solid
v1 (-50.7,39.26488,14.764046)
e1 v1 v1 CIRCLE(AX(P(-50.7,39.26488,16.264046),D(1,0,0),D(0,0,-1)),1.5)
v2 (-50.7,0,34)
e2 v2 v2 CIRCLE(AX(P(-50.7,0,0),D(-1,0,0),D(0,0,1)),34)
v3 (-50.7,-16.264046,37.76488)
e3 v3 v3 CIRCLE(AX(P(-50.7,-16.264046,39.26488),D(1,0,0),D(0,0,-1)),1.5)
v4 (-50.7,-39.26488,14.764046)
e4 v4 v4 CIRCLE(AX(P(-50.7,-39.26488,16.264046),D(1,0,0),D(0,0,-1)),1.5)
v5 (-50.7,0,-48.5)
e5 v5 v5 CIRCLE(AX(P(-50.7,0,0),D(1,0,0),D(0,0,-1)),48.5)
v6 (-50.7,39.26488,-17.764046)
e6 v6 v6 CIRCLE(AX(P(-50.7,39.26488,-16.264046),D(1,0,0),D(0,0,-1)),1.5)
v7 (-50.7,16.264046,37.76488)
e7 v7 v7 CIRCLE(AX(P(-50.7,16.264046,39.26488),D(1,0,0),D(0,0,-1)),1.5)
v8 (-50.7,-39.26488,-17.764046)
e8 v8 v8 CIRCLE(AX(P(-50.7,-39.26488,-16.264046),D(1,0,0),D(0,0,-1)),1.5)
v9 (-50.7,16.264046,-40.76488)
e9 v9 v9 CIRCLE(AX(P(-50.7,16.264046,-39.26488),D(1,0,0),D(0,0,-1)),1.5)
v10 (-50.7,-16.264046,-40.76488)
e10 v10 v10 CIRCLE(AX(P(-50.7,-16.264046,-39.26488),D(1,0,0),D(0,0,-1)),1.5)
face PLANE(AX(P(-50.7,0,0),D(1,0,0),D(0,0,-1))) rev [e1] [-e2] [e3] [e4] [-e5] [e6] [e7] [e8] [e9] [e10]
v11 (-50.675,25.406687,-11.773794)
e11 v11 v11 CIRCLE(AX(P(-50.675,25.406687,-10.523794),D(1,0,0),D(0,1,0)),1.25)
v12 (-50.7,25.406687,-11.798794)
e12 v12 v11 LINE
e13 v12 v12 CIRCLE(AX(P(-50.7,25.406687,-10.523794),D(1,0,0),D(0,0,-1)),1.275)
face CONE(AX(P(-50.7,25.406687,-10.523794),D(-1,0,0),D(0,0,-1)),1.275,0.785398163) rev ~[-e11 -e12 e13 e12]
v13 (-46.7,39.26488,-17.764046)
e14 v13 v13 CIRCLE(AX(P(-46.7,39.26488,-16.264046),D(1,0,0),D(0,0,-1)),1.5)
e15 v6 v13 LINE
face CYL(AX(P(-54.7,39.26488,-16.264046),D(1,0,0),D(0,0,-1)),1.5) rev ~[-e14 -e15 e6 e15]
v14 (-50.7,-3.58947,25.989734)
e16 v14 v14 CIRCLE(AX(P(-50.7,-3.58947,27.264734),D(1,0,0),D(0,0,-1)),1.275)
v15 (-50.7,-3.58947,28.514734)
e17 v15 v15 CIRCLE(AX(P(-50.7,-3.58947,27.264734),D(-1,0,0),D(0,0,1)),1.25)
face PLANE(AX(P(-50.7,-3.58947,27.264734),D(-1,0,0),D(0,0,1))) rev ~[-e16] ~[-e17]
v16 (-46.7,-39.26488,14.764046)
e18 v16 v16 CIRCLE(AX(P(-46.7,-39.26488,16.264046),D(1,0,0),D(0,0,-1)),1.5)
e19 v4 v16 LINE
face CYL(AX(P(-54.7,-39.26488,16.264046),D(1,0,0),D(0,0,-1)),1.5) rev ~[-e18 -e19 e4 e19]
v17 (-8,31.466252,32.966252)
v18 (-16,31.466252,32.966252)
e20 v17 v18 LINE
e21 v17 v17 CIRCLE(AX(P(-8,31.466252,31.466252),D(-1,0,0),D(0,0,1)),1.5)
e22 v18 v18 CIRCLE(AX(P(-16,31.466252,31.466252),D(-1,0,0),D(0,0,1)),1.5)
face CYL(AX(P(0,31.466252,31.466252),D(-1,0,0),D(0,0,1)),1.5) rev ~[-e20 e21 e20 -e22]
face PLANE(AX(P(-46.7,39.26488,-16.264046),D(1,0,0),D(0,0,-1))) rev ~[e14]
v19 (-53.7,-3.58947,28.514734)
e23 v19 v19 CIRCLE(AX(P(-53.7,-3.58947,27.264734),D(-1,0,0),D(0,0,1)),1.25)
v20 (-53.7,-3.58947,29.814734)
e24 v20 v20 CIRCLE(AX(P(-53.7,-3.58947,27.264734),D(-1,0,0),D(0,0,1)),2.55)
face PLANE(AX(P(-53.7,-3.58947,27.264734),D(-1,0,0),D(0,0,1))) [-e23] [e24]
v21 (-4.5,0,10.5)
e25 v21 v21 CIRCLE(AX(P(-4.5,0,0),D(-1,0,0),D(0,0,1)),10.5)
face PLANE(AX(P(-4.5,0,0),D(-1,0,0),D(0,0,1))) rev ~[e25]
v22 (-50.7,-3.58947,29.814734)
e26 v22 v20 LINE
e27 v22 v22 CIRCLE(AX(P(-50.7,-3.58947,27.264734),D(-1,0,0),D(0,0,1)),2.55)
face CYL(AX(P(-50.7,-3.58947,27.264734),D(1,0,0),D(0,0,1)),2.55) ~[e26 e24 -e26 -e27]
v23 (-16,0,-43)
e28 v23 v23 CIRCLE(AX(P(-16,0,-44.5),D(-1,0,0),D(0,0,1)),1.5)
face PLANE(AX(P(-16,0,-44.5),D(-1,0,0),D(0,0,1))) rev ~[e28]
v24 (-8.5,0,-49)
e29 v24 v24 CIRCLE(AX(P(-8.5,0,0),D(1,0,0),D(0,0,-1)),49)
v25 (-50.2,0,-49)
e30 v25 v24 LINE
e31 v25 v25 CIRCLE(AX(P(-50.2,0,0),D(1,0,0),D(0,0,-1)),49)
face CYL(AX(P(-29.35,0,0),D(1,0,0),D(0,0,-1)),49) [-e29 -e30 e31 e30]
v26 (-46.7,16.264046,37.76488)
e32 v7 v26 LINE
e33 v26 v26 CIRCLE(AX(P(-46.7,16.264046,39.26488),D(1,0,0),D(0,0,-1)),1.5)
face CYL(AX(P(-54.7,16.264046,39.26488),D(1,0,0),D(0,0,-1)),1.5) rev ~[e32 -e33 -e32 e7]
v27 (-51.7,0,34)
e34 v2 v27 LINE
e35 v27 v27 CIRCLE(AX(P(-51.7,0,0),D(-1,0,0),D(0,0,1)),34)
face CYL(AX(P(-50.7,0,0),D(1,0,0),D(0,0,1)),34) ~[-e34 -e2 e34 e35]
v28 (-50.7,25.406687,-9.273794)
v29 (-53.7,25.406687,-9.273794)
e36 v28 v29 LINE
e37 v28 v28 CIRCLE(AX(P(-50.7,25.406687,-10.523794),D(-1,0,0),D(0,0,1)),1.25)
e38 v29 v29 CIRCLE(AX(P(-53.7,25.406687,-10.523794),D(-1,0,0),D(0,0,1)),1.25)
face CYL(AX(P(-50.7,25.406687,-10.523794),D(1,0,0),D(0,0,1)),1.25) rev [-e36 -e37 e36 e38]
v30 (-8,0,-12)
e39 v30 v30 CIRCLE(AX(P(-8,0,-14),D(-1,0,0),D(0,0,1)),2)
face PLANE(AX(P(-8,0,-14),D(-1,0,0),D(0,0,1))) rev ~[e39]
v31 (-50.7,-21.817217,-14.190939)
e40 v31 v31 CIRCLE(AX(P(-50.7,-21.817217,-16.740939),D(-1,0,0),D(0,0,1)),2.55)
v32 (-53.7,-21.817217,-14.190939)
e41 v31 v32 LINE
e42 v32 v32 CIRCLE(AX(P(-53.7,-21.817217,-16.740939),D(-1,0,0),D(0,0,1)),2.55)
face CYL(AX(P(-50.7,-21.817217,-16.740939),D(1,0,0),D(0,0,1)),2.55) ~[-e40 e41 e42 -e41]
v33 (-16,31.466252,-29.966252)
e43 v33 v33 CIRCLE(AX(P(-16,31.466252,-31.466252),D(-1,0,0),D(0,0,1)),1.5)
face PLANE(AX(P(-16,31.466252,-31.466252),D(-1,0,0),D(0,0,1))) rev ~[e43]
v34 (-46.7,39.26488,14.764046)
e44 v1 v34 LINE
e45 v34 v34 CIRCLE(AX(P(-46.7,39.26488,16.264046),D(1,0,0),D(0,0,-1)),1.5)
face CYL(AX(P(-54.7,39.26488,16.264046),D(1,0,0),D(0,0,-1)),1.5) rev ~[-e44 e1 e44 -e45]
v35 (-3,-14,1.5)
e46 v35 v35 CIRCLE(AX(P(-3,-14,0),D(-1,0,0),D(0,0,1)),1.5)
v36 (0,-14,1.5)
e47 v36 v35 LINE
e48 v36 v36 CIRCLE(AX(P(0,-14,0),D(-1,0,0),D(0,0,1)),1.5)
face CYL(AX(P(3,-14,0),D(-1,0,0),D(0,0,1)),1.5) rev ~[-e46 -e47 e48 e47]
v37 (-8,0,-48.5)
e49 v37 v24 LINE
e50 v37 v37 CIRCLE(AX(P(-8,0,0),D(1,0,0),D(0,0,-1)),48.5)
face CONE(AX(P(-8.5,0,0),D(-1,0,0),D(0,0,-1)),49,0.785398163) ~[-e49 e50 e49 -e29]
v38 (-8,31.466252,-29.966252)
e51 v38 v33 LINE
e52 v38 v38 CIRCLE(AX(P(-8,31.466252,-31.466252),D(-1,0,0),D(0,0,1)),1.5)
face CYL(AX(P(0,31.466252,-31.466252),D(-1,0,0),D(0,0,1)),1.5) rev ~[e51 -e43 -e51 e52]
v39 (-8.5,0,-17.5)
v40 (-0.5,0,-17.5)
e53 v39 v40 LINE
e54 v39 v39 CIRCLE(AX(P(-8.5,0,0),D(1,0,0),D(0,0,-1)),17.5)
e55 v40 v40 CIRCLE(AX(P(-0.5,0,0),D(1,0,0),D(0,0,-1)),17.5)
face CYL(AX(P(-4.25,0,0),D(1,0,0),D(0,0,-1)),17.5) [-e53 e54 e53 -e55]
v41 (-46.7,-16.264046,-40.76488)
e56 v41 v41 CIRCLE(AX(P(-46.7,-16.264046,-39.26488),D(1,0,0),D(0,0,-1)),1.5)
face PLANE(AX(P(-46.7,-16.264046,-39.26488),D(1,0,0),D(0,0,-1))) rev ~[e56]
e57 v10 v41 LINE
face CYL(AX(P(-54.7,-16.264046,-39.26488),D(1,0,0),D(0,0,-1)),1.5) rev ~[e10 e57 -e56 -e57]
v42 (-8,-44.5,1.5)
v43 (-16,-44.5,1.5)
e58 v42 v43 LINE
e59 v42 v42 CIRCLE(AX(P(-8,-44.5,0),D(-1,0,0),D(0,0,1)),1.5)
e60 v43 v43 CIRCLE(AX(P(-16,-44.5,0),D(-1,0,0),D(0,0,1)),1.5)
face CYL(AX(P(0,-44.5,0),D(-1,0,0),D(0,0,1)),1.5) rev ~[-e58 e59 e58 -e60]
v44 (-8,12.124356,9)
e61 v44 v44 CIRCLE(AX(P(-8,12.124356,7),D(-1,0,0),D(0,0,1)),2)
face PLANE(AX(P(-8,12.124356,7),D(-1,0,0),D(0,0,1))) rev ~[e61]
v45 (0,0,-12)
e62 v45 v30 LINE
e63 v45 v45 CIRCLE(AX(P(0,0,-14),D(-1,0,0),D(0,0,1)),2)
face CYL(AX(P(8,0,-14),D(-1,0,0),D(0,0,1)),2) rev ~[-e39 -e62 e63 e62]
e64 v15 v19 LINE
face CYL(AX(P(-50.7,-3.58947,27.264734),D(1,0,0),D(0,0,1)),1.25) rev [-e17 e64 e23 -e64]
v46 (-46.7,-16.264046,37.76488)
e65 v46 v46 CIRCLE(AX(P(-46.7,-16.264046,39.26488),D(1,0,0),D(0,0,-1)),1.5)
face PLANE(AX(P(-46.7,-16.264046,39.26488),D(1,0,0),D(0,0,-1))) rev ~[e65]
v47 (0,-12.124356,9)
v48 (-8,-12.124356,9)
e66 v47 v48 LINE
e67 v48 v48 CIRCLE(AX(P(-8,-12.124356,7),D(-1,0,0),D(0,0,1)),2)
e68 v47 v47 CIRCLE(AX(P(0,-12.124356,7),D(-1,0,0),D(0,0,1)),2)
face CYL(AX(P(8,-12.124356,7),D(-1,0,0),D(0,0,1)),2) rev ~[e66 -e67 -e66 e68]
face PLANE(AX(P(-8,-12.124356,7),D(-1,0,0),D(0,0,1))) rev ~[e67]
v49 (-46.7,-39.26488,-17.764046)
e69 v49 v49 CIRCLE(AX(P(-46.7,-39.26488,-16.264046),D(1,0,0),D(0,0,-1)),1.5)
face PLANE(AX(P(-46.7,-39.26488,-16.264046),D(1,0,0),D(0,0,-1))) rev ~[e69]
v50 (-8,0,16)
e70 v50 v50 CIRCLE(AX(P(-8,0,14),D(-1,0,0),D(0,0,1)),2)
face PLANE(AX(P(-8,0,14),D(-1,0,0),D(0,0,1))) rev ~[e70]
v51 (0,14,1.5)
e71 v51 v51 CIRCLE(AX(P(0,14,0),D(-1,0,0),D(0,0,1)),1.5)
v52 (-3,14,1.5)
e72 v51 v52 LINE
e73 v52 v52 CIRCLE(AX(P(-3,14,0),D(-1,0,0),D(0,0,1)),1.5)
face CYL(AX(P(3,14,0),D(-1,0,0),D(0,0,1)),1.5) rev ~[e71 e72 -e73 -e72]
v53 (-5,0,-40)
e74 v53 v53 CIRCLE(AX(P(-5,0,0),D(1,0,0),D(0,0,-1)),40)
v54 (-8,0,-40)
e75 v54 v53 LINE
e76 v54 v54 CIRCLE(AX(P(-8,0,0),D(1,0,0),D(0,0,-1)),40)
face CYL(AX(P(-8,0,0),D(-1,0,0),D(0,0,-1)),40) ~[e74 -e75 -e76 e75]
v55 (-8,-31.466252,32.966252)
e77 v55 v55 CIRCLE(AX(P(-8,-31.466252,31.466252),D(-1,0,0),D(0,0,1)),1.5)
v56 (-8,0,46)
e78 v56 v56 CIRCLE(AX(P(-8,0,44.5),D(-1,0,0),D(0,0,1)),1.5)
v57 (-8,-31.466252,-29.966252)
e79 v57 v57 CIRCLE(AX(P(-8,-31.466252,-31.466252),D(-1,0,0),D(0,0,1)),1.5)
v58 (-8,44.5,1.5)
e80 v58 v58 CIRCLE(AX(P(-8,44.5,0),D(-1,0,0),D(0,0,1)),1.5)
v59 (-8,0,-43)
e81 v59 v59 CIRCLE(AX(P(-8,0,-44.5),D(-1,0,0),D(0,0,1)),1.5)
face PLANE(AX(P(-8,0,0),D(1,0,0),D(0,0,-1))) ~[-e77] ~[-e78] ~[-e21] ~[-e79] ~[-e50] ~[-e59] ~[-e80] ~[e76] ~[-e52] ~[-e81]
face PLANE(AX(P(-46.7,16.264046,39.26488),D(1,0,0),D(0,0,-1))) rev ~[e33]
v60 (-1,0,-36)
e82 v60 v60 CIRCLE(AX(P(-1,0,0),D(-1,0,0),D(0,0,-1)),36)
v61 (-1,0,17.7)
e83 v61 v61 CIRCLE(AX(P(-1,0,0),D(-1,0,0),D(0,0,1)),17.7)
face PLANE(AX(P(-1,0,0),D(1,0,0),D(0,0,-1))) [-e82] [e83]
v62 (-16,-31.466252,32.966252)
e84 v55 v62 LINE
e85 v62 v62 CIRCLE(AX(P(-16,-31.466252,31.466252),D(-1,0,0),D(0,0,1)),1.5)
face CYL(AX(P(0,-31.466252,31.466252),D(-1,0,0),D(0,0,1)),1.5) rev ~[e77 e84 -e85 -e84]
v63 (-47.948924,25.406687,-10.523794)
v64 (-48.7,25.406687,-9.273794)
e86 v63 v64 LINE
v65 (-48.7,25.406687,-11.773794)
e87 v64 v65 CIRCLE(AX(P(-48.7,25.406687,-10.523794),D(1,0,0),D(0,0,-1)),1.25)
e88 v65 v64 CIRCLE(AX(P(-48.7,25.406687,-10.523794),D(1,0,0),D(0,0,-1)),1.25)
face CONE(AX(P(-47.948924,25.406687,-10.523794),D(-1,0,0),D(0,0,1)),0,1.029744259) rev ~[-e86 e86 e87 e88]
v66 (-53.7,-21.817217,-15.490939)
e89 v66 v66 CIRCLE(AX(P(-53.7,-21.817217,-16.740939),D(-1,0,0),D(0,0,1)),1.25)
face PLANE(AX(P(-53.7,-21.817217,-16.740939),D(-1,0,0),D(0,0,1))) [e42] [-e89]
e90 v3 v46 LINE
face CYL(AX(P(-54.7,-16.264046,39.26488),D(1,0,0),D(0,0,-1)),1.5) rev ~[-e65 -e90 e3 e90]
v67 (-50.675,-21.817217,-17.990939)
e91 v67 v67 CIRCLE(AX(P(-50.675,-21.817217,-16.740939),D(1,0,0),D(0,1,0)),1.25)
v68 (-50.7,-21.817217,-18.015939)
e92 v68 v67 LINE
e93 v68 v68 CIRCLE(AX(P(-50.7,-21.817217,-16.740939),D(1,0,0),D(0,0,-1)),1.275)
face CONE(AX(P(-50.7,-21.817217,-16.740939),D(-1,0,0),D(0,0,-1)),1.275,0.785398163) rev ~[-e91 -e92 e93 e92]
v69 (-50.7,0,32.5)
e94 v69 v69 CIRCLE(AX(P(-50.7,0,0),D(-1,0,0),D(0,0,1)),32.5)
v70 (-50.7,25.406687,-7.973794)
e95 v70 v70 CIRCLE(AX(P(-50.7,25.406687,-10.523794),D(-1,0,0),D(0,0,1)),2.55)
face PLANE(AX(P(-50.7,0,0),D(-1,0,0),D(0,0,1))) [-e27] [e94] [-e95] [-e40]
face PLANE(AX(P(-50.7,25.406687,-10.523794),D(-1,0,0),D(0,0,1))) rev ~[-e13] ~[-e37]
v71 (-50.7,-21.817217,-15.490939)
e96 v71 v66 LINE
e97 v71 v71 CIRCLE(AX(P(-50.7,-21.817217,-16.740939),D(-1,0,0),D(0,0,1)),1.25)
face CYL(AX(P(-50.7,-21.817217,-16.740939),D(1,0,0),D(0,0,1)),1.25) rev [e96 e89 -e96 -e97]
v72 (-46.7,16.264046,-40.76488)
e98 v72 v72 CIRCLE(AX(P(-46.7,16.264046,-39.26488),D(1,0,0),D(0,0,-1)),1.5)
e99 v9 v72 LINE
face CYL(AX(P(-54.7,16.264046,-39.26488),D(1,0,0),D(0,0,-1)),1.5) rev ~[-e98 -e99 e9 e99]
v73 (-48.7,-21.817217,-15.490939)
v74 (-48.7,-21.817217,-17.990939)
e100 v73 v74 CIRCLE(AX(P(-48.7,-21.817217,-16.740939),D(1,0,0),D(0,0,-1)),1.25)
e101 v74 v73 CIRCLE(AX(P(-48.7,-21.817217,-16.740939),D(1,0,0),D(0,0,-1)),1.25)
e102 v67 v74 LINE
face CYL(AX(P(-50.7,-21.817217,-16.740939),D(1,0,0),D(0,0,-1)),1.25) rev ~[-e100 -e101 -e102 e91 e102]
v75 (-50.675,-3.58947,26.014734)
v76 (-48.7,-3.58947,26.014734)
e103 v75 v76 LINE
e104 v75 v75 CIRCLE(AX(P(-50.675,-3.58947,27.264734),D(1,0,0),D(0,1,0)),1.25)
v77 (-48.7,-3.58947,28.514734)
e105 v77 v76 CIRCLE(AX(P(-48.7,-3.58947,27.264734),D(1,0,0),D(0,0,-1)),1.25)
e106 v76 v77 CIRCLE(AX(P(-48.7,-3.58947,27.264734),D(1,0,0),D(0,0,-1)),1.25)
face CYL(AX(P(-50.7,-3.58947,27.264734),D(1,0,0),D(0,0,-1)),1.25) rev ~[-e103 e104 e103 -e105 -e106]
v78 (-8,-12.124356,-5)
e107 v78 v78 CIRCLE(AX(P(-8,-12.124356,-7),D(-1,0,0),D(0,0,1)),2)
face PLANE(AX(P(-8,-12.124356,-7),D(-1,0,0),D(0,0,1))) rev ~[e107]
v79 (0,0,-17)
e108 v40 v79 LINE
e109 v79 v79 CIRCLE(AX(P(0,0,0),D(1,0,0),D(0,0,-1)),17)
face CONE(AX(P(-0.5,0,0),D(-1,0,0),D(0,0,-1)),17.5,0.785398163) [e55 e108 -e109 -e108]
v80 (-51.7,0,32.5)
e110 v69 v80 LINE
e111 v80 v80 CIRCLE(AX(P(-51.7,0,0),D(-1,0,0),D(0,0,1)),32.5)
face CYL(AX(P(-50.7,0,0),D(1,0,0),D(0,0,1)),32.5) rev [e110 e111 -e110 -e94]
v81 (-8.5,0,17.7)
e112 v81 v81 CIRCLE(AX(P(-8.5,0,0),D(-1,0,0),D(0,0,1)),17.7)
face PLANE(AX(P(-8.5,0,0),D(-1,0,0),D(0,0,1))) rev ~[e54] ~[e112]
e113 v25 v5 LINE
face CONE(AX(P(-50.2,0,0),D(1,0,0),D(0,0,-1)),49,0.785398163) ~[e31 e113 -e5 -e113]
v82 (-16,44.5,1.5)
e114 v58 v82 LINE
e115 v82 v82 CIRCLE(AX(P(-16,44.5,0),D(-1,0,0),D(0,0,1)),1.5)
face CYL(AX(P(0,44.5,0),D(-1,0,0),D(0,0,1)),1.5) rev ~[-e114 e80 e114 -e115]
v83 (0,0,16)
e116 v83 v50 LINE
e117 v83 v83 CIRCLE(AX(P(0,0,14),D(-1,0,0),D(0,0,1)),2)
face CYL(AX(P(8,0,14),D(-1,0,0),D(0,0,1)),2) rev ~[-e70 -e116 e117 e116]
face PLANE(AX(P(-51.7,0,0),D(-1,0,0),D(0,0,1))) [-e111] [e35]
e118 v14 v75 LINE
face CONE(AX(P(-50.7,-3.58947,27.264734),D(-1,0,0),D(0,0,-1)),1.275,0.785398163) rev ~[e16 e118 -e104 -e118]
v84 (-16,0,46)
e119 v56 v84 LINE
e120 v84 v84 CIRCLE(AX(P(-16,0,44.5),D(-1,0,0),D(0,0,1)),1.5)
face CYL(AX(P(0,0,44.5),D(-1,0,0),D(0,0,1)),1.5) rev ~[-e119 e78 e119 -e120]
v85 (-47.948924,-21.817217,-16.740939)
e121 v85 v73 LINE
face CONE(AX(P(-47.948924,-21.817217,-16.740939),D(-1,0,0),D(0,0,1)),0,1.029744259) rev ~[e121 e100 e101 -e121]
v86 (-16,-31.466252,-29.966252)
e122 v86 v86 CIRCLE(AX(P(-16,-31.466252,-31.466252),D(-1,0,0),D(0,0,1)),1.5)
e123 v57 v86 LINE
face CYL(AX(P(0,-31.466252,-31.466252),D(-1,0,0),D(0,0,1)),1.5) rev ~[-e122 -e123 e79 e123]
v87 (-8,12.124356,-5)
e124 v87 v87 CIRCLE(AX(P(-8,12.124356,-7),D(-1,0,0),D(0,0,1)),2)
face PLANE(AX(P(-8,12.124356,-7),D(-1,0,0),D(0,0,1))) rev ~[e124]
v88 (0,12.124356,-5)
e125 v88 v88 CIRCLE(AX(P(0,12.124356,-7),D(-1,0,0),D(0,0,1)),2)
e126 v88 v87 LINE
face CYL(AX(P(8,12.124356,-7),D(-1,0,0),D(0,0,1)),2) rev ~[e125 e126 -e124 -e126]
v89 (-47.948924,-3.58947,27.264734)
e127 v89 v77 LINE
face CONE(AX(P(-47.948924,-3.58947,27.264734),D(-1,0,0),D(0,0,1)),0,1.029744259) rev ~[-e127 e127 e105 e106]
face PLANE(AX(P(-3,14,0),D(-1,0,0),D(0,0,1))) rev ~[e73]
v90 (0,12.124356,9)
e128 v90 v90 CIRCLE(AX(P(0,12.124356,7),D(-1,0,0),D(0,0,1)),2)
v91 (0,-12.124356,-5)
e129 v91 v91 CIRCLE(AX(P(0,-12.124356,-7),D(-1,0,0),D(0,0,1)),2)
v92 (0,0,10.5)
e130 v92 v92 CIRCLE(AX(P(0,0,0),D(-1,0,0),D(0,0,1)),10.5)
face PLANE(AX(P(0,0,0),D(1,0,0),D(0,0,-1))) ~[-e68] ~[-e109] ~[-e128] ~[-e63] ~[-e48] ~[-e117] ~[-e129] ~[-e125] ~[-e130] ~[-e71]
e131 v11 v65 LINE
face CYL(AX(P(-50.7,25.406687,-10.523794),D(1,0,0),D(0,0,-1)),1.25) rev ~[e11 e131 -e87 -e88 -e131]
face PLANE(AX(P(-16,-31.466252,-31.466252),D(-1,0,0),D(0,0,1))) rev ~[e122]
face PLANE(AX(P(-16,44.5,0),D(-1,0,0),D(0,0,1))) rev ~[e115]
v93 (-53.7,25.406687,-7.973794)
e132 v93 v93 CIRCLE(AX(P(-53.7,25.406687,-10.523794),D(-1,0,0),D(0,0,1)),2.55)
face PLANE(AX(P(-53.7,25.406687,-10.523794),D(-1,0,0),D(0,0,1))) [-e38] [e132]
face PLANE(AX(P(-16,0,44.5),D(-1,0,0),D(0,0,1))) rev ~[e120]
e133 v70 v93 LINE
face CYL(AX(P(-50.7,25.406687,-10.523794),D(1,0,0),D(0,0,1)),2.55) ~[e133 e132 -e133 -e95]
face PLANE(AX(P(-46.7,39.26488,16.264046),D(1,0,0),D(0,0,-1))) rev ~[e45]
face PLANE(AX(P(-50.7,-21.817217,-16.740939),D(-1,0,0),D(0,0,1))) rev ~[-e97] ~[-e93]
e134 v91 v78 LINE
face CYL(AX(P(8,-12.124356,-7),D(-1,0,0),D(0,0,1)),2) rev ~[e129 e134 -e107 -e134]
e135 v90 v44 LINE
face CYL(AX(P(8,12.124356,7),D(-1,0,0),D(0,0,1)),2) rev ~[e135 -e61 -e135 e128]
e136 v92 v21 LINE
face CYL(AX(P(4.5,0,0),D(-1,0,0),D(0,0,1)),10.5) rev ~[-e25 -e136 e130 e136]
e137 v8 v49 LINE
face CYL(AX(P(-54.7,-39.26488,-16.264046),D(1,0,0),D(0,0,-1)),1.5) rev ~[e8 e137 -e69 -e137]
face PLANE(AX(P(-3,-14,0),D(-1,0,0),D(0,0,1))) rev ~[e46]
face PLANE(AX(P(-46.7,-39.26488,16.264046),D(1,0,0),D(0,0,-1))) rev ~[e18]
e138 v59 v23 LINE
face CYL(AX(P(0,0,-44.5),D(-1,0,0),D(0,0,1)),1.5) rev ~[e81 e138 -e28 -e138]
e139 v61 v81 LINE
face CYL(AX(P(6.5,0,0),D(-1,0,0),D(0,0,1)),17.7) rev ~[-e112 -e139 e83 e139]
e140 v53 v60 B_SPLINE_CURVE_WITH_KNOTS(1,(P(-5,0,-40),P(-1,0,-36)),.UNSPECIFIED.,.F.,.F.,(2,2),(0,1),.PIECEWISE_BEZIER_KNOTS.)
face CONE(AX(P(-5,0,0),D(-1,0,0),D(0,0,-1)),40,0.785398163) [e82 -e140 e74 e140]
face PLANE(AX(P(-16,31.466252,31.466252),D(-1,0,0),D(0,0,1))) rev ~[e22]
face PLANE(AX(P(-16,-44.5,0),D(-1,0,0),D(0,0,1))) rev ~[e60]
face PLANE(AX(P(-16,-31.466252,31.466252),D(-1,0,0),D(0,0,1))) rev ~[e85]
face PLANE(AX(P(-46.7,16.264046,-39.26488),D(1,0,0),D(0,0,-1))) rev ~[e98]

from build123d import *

# Parameters (mm, degrees)
SKETCH1_W                         = 42.7
SKETCH1_H                         = 49
SKETCH2_R                         = 35.5
BOSS_EXTRUDE1_DEPTH               = 11.2
CUT_EXTRUDE1_START                = -8
CUT_EXTRUDE1_DEPTH                = 8
SKETCH4_R                         = 40
BOSS_EXTRUDE2_DEPTH               = 3
SKETCH5_R                         = 40
BOSS_EXTRUDE3_DEPTH               = 4
BOSS_EXTRUDE3_TAPER               = 45.000000001
M33_CLEARANCE_HOLE1_D             = 35.4
M33_CLEARANCE_HOLE1_DEPTH         = 7.5
SKETCH8_W                         = 8.5
SKETCH8_H                         = 17.5
F_3_0_3_DIAMETER_HOLE1_D          = 3
F_3_0_3_DIAMETER_HOLE1_DEPTH      = 4
F_3_0_3_DIAMETER_HOLE2_D          = 3
F_3_0_3_DIAMETER_HOLE2_DEPTH      = 8
F_21_0_21_DIAMETER_HOLE1_D        = 21
F_21_0_21_DIAMETER_HOLE1_DEPTH    = 4.5
F_4_0_4_DIAMETER_HOLE1_D          = 4
F_4_0_4_DIAMETER_HOLE1_DEPTH      = 8
F_3_0_3_DIAMETER_HOLE3_D          = 3
F_3_0_3_DIAMETER_HOLE3_DEPTH      = 3
CHAMFER1_SIZE                     = 0.5
SKETCH19_R                        = 38.44010433
CUT_EXTRUDE2_DEPTH                = 10.2
CUT_EXTRUDE3_START                = -1
SKETCH20_R                        = 38.36803995
SKETCH20_R_2                      = 35.5
SKETCH20_R_3                      = 34
SKETCH20_R_4                      = 32.5
CUT_EXTRUDE3_DEPTH                = 1
TAP_DRILL_FOR_M3_TAP2_D           = 2.5
TAP_DRILL_FOR_M3_TAP2_DEPTH       = 2
TAP_DRILL_FOR_M3_TAP2_CSINK_D     = 2.55
TAP_DRILL_FOR_M3_TAP2_CSINK_ANGLE = 90
TAP_DRILL_FOR_M3_TAP2_TIP         = 0.751075774
SKETCH24_R                        = 2.55
SKETCH24_R_2                      = 1.25
BOSS_EXTRUDE4_DEPTH               = 3


with BuildPart() as part:
    # Sketch1 → Revolve1 (revolve)
    with BuildSketch(Plane.XY, mode=Mode.PRIVATE) as revolve1_sk:
        with Locations((-29.35, 24.5)):
            Rectangle(SKETCH1_W, SKETCH1_H)
    revolve(revolve1_sk.sketch.rotate(Axis((-50.7, 0, 0), (1, 0, 0)), 270), axis=Axis((-50.7, 0, 0), (1, 0, 0)))

    # Sketch2 → Boss-Extrude1 (add)
    with BuildSketch(Plane.ZY.offset(50.7)):
        Circle(SKETCH2_R)
    extrude(amount=BOSS_EXTRUDE1_DEPTH)

    # Sketch3 → Cut-Extrude1 (cut)
    with BuildSketch(Plane.ZY.offset(61.9).offset(CUT_EXTRUDE1_START)):
        with BuildLine():
            Line((5.253044864, 35.109194233), (32.553289394, 14.160979826))
            ThreePointArc((32.553289394, 14.160979826), (21.61103073, 28.16404358), (5.253044864, 35.109194233))
        make_face()
    extrude(amount=CUT_EXTRUDE1_DEPTH, mode=Mode.SUBTRACT)

    # Sketch4 → Boss-Extrude2 (add)
    with BuildSketch(Plane(origin=(-8, 0, 0), x_dir=(0, 0, -1), z_dir=(1, 0, 0))):
        Circle(SKETCH4_R)
    extrude(amount=BOSS_EXTRUDE2_DEPTH)

    # Sketch5 → Boss-Extrude3 (add)
    with BuildSketch(Plane(origin=(-5, 0, 0), x_dir=(0, 0, -1), z_dir=(1, 0, 0))):
        Circle(SKETCH5_R)
    extrude(amount=BOSS_EXTRUDE3_DEPTH, taper=BOSS_EXTRUDE3_TAPER)

    # M33 Clearance Hole1
    with Locations(Plane(origin=(-1, 0, 0), x_dir=(0, 0, -1), z_dir=(1, 0, 0))):
        with Locations((0, 0)):
            Hole(M33_CLEARANCE_HOLE1_D / 2, depth=M33_CLEARANCE_HOLE1_DEPTH)

    # Sketch8 → Revolve2 (revolve)
    with BuildSketch(Plane.XY, mode=Mode.PRIVATE) as revolve2_sk:
        with Locations((-4.25, 8.75)):
            Rectangle(SKETCH8_W, SKETCH8_H)
    revolve(revolve2_sk.sketch.rotate(Axis((-8.5, 0, 0), (1, 0, 0)), 270), axis=Axis((-8.5, 0, 0), (1, 0, 0)))

    # Ø3.0 (3) Diameter Hole1
    with Locations(Plane.ZY.offset(50.7)):
        with Locations((39.264880132, 16.264045876), (39.264880132, -16.264045876), (16.264045876, -39.264880132), (-16.264045876, -39.264880132), (-39.264880132, -16.264045876), (-39.264880132, 16.264045876), (-16.264045876, 39.264880132), (16.264045876, 39.264880132)):
            Hole(F_3_0_3_DIAMETER_HOLE1_D / 2, depth=F_3_0_3_DIAMETER_HOLE1_DEPTH)

    # Ø3.0 (3) Diameter Hole2
    with Locations(Plane(origin=(-8, 0, 0), x_dir=(0, 0, -1), z_dir=(1, 0, 0))):
        with Locations((31.466251763, 31.466251763), (44.5, 0), (31.466251763, -31.466251763), (0, -44.5), (-31.466251763, -31.466251763), (-44.5, 0), (-31.466251763, 31.466251763), (0, 44.5)):
            Hole(F_3_0_3_DIAMETER_HOLE2_D / 2, depth=F_3_0_3_DIAMETER_HOLE2_DEPTH)

    # Ø21.0 (21) Diameter Hole1
    with Locations(Plane(origin=(0, 0, 0), x_dir=(0, 0, -1), z_dir=(1, 0, 0))):
        with Locations((0, 0)):
            Hole(F_21_0_21_DIAMETER_HOLE1_D / 2, depth=F_21_0_21_DIAMETER_HOLE1_DEPTH)

    # Ø4.0 (4) Diameter Hole1
    with Locations(Plane(origin=(0, 0, 0), x_dir=(0, 0, -1), z_dir=(1, 0, 0))):
        with Locations((-14, 0), (-7, 12.124355653), (7, 12.124355653), (14, 0), (7, -12.124355653), (-7, -12.124355653)):
            Hole(F_4_0_4_DIAMETER_HOLE1_D / 2, depth=F_4_0_4_DIAMETER_HOLE1_DEPTH)

    # Ø3.0 (3) Diameter Hole3
    with Locations(Plane(origin=(0, 0, 0), x_dir=(0, 0, -1), z_dir=(1, 0, 0))):
        with Locations((0, -14), (0, 14)):
            Hole(F_3_0_3_DIAMETER_HOLE3_D / 2, depth=F_3_0_3_DIAMETER_HOLE3_DEPTH)

    # Chamfer1
    chamfer1_edges = [part.edges().sort_by_distance(p)[0] for p in [
        (0, 0, 17.5),
        (-8, 0, 49),
        (-50.7, 0, 49),
    ]]
    chamfer(chamfer1_edges, length=CHAMFER1_SIZE)

    # Sketch19 → Cut-Extrude2 (cut)
    with BuildSketch(Plane.ZY.offset(61.9)):
        Circle(SKETCH19_R)
    extrude(amount=-CUT_EXTRUDE2_DEPTH, mode=Mode.SUBTRACT)

    # Sketch20 → Cut-Extrude3 (cut)
    # profile 1 of 3: a face of its own
    with BuildSketch(Plane.ZY.offset(51.7).offset(CUT_EXTRUDE3_START)):
        Circle(SKETCH20_R)
        Circle(SKETCH20_R_2, mode=Mode.SUBTRACT)
    # profile 2 of 3: a face of its own
    with BuildSketch(Plane.ZY.offset(51.7).offset(CUT_EXTRUDE3_START)):
        Circle(SKETCH20_R_2)
        Circle(SKETCH20_R_3, mode=Mode.SUBTRACT)
    # profile 3 of 3: a face of its own
    with BuildSketch(Plane.ZY.offset(51.7).offset(CUT_EXTRUDE3_START)):
        Circle(SKETCH20_R_4)
    extrude(amount=CUT_EXTRUDE3_DEPTH, mode=Mode.SUBTRACT)

    # Tap Drill for M3 Tap2
    with Locations(Plane.ZY.offset(50.7)):
        with Locations((-16.740939298, -21.817216858), (-10.52379439, 25.406687144), (27.264733688, -3.589470286)):
            CounterSinkHole(TAP_DRILL_FOR_M3_TAP2_D / 2, TAP_DRILL_FOR_M3_TAP2_CSINK_D / 2, depth=TAP_DRILL_FOR_M3_TAP2_DEPTH, counter_sink_angle=TAP_DRILL_FOR_M3_TAP2_CSINK_ANGLE)
            with Locations((0, 0, -(TAP_DRILL_FOR_M3_TAP2_DEPTH + TAP_DRILL_FOR_M3_TAP2_TIP / 2))):  # 118° drill point
                Cone(0, TAP_DRILL_FOR_M3_TAP2_D / 2, TAP_DRILL_FOR_M3_TAP2_TIP, mode=Mode.SUBTRACT)

    # Sketch24 → Boss-Extrude4 (add)
    # profile 1 of 3: a face of its own
    with BuildSketch(Plane.ZY.offset(50.7)):
        with Locations((-10.52379439, 25.406687144)):
            Circle(SKETCH24_R)
        with Locations((-10.52379439, 25.406687144)):
            Circle(SKETCH24_R_2, mode=Mode.SUBTRACT)
    # profile 2 of 3: a face of its own
    with BuildSketch(Plane.ZY.offset(50.7)):
        with Locations((-16.740939298, -21.817216858)):
            Circle(SKETCH24_R)
        with Locations((-16.740939298, -21.817216858)):
            Circle(SKETCH24_R_2, mode=Mode.SUBTRACT)
    # profile 3 of 3: a face of its own
    with BuildSketch(Plane.ZY.offset(50.7)):
        with Locations((27.264733688, -3.589470286)):
            Circle(SKETCH24_R)
        with Locations((27.264733688, -3.589470286)):
            Circle(SKETCH24_R_2, mode=Mode.SUBTRACT)
    extrude(amount=BOSS_EXTRUDE4_DEPTH)


solid = part.part
